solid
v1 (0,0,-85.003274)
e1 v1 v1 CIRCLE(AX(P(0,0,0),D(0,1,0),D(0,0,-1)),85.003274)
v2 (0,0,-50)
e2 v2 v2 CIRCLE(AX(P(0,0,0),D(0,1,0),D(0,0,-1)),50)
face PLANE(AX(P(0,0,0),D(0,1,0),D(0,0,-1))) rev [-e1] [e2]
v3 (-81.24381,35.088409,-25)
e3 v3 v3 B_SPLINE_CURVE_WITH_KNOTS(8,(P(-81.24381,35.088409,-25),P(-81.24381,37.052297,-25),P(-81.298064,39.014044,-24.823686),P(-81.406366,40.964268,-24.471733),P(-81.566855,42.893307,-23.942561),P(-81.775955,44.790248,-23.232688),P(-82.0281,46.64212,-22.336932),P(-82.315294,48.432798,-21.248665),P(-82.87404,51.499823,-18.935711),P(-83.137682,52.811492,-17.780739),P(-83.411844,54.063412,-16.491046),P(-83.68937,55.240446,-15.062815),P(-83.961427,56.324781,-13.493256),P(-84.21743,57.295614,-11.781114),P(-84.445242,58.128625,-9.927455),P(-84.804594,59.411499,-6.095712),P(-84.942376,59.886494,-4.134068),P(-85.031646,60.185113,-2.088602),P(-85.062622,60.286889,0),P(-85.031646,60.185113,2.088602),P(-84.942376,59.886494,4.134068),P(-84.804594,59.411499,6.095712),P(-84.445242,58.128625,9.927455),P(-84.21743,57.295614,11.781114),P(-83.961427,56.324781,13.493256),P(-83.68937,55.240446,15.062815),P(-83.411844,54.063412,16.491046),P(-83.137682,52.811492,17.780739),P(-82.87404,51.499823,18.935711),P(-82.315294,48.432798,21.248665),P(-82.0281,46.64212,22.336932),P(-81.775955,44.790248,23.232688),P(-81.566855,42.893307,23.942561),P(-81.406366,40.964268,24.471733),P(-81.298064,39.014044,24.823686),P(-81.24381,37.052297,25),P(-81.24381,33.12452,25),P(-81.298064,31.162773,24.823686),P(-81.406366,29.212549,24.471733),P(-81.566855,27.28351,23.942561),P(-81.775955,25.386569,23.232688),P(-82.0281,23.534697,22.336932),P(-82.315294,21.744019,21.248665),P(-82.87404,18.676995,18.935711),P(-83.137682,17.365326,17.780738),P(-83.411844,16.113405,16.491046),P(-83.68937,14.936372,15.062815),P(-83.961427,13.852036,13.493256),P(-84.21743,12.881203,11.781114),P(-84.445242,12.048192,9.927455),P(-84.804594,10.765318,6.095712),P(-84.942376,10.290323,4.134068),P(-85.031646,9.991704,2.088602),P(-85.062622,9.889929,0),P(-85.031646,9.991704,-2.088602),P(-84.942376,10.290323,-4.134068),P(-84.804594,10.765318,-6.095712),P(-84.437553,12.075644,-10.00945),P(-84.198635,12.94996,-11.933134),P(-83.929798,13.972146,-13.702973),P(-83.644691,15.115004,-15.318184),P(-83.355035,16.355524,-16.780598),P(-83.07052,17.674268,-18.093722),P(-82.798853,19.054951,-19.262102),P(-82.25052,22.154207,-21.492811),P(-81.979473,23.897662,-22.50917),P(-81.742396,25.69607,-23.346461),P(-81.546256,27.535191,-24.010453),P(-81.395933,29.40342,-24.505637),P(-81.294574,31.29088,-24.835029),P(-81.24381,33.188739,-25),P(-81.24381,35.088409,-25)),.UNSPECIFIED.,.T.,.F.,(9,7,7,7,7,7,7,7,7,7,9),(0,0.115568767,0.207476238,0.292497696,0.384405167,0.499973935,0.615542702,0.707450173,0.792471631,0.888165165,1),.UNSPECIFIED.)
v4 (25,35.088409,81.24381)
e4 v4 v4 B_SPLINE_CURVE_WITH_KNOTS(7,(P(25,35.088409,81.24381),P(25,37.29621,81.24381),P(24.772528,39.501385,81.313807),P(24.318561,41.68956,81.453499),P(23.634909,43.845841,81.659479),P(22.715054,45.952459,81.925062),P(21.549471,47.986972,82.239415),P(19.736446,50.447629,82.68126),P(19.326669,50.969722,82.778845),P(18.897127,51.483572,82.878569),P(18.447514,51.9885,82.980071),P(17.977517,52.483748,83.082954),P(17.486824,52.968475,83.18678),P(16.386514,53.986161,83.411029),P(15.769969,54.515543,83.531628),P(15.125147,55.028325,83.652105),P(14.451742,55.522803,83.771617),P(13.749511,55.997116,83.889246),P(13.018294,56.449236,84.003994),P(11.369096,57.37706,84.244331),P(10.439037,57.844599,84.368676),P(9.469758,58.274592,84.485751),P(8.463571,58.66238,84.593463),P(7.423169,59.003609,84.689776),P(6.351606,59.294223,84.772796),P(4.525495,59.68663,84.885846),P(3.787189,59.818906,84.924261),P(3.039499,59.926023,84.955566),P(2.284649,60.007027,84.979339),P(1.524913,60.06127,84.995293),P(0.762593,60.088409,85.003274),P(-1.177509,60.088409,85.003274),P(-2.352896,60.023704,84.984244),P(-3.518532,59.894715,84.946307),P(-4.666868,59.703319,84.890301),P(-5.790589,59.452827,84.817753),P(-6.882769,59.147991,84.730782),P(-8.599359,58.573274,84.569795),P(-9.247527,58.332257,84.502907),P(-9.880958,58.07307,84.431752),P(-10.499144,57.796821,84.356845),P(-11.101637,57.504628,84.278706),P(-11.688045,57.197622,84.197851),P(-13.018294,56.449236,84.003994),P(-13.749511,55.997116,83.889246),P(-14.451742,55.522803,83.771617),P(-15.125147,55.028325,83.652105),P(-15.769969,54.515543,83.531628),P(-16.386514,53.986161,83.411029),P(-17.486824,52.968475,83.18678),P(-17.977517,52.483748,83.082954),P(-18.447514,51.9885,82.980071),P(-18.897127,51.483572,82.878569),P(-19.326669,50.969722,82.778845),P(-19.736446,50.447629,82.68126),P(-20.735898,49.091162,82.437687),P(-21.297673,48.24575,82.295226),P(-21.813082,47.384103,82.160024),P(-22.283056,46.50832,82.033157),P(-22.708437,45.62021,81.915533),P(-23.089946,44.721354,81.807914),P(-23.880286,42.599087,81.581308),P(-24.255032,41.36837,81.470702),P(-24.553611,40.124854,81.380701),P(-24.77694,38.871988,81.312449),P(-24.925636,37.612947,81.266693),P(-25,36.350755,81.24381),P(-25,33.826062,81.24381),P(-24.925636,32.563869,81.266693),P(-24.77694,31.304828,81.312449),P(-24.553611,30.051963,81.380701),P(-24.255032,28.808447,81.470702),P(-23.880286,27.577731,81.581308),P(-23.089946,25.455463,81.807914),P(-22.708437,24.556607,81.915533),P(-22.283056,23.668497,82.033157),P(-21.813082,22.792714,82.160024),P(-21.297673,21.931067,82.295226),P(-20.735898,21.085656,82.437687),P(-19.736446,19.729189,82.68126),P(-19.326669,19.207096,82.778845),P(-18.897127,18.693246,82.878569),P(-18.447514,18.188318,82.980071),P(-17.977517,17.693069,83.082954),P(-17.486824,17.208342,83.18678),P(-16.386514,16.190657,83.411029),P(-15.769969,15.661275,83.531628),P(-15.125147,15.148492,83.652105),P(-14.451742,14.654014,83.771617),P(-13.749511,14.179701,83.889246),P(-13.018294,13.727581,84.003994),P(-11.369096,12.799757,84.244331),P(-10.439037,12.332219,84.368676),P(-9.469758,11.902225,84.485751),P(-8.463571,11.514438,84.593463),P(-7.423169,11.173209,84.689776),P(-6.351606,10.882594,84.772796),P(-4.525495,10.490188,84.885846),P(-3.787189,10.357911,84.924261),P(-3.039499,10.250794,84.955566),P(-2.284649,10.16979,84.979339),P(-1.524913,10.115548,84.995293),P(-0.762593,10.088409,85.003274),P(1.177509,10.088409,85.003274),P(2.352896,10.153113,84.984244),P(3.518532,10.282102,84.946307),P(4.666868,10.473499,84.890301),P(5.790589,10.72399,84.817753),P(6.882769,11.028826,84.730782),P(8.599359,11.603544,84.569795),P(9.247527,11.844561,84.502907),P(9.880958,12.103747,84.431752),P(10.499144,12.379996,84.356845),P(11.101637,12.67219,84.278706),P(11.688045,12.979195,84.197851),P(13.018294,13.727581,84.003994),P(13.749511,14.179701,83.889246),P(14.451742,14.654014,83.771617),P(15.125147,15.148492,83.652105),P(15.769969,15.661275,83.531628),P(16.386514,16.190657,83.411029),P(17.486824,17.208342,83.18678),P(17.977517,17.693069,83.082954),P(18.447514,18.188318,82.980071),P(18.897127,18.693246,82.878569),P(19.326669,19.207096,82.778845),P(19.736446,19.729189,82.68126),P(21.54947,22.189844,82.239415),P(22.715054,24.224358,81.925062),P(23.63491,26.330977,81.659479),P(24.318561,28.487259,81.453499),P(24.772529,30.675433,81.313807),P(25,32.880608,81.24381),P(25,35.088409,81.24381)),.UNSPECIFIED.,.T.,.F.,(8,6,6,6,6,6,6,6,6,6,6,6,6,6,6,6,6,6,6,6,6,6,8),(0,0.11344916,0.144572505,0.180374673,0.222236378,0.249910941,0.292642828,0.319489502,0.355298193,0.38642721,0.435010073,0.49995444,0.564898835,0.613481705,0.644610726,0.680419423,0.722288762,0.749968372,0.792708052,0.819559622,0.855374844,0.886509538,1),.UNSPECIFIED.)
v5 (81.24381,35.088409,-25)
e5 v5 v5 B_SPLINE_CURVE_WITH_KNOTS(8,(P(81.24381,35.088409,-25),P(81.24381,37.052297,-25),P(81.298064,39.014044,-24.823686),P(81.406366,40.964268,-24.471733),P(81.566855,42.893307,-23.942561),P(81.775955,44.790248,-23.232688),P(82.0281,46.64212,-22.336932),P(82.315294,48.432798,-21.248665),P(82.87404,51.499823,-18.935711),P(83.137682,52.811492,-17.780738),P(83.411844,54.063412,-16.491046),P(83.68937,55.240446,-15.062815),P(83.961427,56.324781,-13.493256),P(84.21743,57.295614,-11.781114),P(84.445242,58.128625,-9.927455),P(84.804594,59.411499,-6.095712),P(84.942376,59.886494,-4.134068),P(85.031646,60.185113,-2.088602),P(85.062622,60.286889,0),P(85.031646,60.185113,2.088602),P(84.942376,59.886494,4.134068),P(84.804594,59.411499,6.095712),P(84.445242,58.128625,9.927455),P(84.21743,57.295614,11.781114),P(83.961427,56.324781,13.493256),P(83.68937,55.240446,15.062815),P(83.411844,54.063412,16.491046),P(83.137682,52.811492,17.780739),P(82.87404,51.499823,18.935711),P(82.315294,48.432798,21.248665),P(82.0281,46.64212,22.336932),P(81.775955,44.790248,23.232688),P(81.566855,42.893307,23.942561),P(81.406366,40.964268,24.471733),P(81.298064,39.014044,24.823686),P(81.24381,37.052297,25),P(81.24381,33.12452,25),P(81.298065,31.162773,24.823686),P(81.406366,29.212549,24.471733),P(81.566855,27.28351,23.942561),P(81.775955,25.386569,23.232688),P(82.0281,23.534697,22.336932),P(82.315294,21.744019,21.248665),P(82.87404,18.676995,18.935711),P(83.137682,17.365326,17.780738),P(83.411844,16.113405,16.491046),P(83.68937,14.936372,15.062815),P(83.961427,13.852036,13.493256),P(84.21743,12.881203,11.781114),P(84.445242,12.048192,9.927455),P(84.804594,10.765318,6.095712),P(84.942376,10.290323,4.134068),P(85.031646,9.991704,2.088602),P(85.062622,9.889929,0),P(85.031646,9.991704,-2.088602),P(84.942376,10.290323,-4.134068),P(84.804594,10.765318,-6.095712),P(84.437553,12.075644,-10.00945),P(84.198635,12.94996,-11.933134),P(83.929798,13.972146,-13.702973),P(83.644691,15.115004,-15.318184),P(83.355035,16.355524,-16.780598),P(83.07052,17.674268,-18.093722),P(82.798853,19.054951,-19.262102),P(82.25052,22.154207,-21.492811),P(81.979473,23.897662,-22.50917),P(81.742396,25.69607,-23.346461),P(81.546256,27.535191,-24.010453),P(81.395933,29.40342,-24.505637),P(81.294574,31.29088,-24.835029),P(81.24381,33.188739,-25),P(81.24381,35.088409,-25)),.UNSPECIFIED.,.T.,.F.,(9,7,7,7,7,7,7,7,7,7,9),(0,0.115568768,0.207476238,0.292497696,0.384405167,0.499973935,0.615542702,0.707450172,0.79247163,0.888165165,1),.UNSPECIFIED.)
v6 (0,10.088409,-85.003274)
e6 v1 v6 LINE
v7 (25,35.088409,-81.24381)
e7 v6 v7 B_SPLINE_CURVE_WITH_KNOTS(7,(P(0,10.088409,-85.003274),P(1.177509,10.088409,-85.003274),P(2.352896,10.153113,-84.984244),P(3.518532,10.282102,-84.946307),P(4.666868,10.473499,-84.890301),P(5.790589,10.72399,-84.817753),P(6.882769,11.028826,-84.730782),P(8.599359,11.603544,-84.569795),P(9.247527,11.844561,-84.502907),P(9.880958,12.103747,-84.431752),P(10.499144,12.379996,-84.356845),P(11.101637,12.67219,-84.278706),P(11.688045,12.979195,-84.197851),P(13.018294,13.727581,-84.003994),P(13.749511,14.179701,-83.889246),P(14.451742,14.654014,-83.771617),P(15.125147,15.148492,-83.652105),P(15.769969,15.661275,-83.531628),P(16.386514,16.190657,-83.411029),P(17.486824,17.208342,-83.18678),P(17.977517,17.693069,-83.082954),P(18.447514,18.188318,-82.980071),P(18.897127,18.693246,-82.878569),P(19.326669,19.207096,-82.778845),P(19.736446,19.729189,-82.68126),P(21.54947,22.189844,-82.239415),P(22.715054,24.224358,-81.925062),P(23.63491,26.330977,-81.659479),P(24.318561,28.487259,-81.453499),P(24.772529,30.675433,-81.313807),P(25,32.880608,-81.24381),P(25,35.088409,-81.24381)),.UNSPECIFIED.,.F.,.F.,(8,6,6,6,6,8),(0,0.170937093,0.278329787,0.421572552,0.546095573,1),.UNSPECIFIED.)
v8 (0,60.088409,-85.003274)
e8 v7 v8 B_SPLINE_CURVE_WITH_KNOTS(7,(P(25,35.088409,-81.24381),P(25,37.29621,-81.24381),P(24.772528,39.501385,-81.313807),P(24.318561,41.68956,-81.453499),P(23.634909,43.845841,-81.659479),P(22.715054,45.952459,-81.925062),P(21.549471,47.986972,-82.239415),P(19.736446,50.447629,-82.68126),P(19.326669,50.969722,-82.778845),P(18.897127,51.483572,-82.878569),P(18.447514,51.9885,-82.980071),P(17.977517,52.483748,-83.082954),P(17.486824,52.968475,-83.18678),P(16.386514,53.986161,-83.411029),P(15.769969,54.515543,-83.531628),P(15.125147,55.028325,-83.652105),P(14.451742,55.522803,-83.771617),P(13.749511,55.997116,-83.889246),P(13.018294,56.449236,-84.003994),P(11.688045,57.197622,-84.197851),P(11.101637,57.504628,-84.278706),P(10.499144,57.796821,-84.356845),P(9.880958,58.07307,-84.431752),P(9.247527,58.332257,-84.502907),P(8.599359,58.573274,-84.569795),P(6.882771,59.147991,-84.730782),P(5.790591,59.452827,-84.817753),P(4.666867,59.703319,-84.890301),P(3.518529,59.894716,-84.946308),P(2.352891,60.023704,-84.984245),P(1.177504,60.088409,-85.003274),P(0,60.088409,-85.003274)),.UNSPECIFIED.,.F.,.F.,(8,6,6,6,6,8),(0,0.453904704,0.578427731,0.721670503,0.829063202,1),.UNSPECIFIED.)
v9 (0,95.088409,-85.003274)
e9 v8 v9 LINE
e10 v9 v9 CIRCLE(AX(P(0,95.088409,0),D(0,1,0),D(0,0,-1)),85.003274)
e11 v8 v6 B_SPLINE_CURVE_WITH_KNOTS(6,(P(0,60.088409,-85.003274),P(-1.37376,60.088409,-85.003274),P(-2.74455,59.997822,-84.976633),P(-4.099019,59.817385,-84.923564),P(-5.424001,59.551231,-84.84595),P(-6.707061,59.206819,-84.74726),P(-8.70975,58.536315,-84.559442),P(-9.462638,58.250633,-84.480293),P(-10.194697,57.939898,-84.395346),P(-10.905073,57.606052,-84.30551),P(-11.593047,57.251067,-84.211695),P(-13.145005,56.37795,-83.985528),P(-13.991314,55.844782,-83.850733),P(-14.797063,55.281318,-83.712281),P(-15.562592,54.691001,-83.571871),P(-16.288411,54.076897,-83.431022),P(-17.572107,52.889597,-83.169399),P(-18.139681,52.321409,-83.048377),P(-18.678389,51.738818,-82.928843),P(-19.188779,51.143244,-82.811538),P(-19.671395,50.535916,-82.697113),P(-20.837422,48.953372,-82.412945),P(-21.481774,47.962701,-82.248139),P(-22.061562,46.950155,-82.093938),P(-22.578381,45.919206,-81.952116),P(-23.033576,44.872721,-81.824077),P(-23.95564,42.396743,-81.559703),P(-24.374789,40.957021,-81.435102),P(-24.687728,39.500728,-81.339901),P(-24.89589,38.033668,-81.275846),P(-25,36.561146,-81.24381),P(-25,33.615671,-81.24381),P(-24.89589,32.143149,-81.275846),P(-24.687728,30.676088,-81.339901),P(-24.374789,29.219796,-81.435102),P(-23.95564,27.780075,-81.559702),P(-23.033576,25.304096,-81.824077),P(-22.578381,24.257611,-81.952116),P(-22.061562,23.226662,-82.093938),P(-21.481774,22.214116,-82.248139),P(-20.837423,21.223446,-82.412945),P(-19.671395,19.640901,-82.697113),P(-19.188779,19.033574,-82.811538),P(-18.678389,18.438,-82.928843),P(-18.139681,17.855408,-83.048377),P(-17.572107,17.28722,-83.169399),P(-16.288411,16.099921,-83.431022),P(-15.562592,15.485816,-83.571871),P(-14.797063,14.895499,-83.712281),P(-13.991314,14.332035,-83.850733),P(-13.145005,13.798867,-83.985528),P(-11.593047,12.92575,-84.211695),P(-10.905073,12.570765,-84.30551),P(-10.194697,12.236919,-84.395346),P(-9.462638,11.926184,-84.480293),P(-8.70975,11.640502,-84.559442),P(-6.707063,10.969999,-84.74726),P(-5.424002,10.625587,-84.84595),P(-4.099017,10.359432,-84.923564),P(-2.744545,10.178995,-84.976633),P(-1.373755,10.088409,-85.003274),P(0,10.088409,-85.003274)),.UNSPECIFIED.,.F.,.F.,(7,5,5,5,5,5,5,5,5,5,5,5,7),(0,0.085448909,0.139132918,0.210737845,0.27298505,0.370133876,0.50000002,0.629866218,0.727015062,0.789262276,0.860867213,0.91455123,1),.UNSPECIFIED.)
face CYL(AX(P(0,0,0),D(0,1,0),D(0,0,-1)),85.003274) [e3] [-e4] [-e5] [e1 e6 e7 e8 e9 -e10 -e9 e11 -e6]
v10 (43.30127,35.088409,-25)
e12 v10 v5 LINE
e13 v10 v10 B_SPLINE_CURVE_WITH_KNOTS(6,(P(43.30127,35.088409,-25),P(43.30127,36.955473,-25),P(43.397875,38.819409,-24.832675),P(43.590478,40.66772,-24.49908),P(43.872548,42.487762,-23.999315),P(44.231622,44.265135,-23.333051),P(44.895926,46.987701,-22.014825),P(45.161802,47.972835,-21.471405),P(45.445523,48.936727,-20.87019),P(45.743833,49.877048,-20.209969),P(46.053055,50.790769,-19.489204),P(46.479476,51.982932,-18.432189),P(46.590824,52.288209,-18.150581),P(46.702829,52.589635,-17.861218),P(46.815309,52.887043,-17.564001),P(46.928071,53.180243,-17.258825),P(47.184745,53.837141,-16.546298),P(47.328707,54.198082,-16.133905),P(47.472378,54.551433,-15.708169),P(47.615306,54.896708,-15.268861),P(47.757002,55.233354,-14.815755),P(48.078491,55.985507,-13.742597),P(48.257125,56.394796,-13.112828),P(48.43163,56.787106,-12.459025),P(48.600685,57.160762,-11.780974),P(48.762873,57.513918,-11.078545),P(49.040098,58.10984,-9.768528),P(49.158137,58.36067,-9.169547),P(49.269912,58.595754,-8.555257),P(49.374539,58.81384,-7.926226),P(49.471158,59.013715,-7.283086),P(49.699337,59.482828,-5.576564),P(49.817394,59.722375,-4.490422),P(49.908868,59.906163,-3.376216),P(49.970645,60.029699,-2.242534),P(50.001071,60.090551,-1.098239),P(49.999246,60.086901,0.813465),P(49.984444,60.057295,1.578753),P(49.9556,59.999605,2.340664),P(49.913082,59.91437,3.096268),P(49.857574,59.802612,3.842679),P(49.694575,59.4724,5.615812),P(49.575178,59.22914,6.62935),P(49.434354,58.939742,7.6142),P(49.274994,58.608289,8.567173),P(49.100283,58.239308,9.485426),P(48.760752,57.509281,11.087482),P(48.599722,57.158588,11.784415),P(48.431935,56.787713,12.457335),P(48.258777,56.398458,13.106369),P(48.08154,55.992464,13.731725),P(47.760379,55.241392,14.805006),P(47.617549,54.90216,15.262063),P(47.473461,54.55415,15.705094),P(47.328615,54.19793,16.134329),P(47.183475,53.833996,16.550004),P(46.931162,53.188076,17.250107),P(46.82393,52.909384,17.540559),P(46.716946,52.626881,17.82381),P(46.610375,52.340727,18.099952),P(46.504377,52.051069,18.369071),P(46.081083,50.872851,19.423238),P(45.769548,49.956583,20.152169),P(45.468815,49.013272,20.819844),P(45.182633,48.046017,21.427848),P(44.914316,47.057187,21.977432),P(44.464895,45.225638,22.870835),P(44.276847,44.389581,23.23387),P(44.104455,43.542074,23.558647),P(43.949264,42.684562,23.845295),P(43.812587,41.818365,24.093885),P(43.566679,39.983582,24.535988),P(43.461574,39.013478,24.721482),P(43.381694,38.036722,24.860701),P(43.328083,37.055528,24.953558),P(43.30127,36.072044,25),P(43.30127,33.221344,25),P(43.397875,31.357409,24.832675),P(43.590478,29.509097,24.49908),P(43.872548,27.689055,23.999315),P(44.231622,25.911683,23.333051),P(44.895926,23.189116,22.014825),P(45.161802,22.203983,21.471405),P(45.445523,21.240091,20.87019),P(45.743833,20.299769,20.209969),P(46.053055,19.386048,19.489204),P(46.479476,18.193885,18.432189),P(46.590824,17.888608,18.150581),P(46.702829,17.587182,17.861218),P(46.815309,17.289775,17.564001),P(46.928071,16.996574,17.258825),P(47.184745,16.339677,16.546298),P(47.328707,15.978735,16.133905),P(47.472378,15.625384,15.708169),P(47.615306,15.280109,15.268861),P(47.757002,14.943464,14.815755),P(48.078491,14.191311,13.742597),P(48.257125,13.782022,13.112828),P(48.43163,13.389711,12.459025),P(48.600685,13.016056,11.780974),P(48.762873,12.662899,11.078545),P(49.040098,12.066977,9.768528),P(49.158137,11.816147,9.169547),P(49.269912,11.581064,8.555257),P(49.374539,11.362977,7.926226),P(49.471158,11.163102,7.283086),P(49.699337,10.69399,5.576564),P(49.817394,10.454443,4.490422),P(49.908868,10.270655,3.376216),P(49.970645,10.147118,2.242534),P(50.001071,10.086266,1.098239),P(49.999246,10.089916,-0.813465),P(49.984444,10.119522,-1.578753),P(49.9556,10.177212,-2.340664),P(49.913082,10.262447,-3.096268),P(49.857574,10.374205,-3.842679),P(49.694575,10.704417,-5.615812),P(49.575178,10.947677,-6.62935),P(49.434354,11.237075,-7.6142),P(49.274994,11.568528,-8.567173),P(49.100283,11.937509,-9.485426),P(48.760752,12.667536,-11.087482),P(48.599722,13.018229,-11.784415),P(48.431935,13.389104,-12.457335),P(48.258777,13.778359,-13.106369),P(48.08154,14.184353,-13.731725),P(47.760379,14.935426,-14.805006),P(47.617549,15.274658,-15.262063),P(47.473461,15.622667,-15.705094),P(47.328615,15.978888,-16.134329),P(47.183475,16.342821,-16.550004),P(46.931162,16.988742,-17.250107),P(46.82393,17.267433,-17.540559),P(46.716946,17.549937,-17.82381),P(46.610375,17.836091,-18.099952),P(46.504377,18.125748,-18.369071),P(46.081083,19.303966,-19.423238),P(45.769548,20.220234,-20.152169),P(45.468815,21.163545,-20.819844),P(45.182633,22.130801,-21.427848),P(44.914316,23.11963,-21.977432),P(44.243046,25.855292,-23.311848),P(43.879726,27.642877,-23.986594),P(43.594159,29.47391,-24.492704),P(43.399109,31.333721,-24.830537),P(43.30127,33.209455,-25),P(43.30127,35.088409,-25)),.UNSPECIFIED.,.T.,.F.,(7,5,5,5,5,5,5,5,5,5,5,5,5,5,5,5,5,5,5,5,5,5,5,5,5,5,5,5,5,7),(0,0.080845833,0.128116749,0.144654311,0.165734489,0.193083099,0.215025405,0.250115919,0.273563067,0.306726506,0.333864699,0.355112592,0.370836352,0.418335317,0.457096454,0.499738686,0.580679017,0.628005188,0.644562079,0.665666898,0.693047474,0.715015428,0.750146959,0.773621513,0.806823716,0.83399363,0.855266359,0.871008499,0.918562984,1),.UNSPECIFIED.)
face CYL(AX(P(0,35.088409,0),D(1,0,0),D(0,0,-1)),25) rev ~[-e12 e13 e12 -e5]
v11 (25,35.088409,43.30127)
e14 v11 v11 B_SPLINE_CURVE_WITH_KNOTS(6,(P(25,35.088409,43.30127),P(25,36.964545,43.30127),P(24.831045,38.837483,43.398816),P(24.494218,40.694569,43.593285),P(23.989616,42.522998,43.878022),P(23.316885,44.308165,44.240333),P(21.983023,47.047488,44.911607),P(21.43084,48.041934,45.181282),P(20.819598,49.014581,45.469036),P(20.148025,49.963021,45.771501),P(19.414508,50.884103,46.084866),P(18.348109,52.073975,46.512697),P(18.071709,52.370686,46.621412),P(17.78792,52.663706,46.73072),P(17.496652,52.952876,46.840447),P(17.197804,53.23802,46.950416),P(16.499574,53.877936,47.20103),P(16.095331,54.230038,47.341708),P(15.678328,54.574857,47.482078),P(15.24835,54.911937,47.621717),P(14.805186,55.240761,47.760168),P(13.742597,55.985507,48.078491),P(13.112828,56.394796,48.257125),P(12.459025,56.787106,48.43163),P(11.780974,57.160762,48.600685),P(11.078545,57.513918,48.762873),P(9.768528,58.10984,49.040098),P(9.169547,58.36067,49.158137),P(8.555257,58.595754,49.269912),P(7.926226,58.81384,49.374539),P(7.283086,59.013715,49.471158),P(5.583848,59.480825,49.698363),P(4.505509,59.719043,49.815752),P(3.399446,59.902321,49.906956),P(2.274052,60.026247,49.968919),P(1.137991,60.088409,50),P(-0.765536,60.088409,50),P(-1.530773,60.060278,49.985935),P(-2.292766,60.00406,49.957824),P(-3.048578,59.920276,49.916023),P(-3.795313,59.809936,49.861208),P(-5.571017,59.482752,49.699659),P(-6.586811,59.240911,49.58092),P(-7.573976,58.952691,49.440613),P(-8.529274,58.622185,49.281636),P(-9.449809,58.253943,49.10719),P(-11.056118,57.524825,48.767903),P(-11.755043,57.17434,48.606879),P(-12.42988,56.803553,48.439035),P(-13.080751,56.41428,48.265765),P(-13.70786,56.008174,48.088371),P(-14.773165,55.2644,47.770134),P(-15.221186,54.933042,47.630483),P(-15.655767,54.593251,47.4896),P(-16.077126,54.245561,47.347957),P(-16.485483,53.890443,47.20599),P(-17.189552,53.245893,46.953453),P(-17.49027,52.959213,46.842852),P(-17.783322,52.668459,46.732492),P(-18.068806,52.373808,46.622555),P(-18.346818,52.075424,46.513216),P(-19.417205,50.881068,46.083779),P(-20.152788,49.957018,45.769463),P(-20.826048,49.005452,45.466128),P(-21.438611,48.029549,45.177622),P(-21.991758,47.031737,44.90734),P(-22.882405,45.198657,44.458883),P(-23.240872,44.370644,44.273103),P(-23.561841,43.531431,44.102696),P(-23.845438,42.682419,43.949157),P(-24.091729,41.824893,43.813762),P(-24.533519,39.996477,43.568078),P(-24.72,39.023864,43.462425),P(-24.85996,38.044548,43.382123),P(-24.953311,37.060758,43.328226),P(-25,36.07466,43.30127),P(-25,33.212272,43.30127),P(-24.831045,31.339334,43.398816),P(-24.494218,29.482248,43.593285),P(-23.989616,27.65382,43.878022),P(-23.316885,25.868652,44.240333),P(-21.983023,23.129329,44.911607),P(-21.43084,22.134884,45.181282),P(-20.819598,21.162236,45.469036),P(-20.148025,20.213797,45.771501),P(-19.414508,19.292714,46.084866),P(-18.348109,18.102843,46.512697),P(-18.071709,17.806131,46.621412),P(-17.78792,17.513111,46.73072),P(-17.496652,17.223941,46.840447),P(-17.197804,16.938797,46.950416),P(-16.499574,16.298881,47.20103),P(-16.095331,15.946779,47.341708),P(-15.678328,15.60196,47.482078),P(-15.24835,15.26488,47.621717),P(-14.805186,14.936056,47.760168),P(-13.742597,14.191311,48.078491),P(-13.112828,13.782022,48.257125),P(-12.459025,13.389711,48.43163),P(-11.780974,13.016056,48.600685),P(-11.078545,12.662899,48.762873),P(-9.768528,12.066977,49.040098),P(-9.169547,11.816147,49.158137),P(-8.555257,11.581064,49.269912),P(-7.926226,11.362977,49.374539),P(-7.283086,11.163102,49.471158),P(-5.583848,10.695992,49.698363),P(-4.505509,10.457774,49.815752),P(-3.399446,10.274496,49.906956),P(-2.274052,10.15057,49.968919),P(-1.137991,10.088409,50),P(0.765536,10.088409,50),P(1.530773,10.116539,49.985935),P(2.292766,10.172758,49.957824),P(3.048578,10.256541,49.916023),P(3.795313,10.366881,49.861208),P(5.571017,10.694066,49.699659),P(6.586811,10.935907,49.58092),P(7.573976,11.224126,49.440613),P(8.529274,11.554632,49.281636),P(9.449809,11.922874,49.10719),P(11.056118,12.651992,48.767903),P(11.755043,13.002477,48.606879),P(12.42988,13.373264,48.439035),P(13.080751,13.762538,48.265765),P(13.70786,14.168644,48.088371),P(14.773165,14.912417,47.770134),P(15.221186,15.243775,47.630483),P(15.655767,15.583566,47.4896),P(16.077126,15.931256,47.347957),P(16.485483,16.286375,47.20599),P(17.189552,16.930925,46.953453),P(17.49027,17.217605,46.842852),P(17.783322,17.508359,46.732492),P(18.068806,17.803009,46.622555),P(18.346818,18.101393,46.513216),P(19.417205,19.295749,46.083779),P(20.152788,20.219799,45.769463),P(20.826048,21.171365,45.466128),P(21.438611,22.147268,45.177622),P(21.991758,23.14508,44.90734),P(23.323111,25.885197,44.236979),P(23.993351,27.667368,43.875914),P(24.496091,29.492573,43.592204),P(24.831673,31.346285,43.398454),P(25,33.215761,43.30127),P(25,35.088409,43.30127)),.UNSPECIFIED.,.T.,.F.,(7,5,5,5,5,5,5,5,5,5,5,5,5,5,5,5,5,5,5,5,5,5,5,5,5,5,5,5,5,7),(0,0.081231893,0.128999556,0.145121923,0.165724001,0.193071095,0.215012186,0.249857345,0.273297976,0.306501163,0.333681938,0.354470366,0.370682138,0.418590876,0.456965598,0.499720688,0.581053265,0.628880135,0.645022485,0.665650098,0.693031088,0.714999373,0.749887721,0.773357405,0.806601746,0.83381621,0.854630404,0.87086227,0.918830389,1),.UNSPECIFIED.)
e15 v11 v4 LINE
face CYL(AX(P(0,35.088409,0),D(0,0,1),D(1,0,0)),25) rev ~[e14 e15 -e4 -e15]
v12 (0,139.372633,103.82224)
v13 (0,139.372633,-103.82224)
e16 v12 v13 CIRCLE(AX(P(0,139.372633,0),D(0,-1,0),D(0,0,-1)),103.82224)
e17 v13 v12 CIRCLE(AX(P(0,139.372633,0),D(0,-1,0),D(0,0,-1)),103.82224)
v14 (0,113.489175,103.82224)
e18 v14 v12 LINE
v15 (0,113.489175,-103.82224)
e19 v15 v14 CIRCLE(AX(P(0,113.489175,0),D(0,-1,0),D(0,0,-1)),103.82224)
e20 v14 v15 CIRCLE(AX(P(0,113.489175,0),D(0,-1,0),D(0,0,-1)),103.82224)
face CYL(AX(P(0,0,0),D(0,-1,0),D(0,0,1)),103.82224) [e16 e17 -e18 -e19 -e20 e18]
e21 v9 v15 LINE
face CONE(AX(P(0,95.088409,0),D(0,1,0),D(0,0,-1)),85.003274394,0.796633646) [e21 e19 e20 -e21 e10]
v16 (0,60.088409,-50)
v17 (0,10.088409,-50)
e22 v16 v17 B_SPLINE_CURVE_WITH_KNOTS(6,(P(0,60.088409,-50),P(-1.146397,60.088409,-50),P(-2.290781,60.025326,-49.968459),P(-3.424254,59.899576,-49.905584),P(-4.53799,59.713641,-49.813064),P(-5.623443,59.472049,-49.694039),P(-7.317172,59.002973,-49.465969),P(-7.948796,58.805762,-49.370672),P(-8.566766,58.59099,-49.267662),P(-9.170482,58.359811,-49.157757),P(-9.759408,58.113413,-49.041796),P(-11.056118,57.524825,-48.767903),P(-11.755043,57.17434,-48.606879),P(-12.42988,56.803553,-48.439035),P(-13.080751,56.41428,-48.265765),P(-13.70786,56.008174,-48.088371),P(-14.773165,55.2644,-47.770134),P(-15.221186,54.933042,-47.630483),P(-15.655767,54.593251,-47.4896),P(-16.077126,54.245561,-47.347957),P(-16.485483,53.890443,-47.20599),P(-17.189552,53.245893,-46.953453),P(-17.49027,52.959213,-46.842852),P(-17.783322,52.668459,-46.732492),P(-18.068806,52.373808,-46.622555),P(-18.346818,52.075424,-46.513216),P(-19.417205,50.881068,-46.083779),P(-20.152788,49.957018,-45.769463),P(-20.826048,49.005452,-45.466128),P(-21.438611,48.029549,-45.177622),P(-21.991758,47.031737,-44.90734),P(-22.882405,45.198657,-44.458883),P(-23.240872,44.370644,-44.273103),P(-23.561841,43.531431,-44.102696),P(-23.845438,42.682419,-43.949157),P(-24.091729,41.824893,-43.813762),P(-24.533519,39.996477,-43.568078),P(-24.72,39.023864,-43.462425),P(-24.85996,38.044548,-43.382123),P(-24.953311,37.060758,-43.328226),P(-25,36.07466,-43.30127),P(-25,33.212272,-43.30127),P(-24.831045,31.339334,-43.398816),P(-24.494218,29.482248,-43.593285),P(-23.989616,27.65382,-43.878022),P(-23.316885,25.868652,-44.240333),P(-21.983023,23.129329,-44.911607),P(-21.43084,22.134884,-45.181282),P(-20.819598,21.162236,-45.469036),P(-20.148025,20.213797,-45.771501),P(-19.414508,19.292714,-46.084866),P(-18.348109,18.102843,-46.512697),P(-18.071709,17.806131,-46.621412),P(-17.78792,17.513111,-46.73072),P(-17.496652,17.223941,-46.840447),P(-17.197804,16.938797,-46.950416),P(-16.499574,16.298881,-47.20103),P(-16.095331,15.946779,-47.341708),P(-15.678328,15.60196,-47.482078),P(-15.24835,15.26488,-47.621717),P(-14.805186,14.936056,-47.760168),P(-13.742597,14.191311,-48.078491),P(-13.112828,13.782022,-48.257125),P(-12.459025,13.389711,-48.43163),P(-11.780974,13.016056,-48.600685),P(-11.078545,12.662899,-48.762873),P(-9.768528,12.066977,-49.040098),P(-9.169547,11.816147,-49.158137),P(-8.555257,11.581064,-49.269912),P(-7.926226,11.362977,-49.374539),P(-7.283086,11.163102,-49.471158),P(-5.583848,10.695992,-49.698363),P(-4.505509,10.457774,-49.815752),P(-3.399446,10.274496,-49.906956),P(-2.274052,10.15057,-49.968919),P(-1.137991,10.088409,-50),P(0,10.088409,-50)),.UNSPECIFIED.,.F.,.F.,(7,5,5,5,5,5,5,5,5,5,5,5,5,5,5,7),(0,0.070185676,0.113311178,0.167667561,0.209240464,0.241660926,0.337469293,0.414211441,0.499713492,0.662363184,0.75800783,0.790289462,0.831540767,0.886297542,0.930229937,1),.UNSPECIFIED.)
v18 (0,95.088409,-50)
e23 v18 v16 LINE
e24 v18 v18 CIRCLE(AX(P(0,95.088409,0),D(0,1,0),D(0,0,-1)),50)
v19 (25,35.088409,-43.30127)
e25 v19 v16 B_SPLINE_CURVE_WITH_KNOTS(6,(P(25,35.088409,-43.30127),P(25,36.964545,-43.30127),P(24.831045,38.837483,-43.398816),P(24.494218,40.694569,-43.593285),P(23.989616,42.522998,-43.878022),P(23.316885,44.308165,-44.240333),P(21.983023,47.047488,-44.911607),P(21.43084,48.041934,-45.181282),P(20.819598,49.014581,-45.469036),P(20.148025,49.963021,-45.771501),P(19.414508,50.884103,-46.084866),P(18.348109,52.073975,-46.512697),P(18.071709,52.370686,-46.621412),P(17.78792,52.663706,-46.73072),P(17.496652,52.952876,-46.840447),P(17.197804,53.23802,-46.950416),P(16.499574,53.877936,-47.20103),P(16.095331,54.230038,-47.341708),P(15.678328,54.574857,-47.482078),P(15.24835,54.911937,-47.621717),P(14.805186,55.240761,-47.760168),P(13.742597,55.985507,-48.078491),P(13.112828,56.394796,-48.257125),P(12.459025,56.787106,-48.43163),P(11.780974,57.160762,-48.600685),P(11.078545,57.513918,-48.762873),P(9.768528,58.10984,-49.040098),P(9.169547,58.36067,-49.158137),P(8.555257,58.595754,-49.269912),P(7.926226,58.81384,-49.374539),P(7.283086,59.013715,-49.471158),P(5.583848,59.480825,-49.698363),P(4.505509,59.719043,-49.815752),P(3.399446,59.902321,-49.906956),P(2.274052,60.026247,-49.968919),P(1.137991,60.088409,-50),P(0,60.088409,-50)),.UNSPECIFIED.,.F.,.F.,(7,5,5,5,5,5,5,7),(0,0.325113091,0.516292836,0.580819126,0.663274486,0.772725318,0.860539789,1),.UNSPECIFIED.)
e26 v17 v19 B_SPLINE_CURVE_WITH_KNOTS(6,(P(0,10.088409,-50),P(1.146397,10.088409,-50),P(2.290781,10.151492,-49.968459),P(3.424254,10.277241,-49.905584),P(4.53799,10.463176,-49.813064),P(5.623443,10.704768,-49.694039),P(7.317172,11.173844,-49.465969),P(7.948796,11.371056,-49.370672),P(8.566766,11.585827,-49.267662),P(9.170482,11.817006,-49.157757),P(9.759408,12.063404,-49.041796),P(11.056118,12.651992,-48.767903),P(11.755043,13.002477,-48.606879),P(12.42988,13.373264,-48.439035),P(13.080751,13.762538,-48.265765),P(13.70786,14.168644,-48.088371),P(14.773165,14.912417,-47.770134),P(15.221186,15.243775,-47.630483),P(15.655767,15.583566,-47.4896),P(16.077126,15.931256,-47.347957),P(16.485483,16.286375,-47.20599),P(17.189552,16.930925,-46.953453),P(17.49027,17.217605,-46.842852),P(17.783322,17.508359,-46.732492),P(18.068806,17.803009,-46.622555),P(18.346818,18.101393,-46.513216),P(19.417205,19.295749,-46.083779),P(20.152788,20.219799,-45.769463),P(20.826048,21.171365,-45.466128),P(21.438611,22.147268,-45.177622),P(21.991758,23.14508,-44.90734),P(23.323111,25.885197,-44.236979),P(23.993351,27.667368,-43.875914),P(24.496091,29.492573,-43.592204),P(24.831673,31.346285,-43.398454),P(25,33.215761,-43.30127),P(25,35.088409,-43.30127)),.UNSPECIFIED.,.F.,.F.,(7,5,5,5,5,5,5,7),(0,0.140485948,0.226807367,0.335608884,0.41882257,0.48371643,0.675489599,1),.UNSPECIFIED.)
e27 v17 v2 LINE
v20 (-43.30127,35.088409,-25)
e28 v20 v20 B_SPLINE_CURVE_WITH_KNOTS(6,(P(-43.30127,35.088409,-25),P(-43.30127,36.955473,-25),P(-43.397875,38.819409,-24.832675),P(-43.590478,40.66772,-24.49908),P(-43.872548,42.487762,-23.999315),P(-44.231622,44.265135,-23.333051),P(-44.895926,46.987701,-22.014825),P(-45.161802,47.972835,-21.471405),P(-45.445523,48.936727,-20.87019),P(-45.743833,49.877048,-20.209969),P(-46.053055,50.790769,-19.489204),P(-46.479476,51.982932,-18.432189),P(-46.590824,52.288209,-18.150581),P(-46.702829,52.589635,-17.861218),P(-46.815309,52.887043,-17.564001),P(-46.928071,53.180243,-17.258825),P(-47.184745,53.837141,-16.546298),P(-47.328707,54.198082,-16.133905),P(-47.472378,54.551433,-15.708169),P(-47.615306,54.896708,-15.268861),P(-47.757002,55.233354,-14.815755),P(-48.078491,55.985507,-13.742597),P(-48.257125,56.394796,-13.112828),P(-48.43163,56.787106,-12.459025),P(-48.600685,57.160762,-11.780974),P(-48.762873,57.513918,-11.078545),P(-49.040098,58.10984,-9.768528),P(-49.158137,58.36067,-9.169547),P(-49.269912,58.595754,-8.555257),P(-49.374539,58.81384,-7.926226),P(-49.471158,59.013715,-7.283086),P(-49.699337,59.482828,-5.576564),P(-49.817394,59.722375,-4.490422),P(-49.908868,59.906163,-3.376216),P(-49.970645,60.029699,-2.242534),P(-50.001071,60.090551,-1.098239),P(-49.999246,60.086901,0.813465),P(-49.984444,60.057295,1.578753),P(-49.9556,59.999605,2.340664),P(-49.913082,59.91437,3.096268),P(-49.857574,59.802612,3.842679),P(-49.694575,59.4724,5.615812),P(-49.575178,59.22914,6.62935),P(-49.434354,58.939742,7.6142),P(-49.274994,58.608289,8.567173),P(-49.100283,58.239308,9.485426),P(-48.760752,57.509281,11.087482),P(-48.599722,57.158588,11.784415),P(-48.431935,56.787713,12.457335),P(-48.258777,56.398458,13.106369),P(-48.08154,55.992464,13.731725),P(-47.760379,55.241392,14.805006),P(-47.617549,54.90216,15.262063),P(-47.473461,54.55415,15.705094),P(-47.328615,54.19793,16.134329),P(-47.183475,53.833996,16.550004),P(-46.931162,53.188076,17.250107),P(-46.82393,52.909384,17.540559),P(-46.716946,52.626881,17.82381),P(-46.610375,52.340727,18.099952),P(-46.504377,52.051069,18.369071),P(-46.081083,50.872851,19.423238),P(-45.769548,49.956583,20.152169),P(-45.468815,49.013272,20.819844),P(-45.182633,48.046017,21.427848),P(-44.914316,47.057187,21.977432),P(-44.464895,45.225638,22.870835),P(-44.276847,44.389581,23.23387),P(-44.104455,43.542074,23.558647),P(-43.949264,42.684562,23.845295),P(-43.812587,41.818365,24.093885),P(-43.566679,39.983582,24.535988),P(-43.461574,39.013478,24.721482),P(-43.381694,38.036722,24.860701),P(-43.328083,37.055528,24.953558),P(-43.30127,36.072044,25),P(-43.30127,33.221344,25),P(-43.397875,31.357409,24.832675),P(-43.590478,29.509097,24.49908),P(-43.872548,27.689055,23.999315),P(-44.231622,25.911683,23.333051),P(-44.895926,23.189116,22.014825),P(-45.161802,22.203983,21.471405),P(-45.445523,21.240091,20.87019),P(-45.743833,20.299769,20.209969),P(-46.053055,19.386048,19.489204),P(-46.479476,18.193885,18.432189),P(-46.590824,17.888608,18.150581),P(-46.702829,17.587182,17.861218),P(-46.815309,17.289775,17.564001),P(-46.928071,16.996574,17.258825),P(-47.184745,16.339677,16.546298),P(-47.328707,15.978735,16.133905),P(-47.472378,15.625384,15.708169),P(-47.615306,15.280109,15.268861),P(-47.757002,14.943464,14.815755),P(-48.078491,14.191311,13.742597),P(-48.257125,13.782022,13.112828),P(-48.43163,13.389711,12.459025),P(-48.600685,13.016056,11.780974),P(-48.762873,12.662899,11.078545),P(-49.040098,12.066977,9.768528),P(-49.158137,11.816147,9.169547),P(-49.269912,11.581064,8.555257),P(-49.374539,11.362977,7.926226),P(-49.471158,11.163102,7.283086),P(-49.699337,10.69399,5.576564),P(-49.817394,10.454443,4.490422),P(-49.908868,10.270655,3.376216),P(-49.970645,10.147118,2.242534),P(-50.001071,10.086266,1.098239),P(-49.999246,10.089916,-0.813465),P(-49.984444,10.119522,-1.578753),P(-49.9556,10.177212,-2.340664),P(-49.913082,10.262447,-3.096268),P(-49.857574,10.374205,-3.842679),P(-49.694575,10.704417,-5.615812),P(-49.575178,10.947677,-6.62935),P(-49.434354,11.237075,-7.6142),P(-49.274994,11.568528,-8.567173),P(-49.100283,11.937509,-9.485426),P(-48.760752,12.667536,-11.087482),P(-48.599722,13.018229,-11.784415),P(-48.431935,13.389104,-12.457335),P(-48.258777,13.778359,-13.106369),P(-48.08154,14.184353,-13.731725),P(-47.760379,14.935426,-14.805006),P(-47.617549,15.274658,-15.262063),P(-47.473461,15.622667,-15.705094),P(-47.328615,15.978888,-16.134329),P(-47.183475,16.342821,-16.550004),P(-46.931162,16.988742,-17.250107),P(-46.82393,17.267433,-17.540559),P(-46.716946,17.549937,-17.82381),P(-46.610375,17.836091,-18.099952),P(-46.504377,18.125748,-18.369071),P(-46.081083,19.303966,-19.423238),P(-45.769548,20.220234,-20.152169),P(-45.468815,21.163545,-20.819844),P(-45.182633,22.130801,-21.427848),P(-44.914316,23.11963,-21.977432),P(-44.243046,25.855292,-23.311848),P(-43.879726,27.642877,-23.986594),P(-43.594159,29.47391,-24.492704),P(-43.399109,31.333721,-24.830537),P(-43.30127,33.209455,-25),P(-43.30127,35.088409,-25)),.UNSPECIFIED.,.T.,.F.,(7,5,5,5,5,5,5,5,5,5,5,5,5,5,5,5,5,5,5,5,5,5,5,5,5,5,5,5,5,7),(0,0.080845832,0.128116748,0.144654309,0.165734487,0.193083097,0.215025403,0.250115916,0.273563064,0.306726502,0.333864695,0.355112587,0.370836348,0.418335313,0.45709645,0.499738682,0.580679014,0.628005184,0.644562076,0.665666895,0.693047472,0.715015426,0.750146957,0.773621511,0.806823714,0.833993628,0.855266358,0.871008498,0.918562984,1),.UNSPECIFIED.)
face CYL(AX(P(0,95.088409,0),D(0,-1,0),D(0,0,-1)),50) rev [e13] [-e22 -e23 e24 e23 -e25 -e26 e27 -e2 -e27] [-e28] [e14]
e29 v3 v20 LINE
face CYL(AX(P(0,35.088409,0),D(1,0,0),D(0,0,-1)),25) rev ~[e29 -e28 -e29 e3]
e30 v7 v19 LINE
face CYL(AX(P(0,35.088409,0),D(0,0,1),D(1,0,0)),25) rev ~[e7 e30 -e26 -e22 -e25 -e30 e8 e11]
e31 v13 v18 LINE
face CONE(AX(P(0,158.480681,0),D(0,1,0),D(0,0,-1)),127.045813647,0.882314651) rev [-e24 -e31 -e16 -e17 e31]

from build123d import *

# Parameters (mm, degrees)
SKETCH9_R          = 25
CUT_EXTRUDE1_DEPTH = 100
SKETCH10_R         = 25
CUT_EXTRUDE2_DEPTH = 100
SKETCH11_R         = 149.836280288
SKETCH11_R_2       = 103.82223994
CUT_EXTRUDE3_DEPTH = 265.609047568


with BuildPart() as part:
    # Sketch5 → Revolve3 (revolve)
    with BuildSketch(Plane.XY):
        Polygon((-85.003274394, 95.088408644), (-85.003274394, 0), (-50, 0), (-50, 95.088408644), (-127.045813647, 158.480681074), (-149.836280288, 158.480681074), align=None)
    revolve(axis=Axis((0, -87.884741323, 0), (0, 1, 0)))

    # Sketch9 → Cut-Extrude1 (cut, symmetric)
    with BuildSketch(Plane.XY):
        with Locations((0, 35.088408644)):
            Circle(SKETCH9_R)
    extrude(amount=CUT_EXTRUDE1_DEPTH, both=True, mode=Mode.SUBTRACT)

    # Sketch10 → Cut-Extrude2 (cut, symmetric)
    with BuildSketch(Plane(origin=(0, 0, 0), x_dir=(0, 0, -1), z_dir=(1, 0, 0))):
        with Locations((0, 35.088408644)):
            Circle(SKETCH10_R)
    extrude(amount=CUT_EXTRUDE2_DEPTH, both=True, mode=Mode.SUBTRACT)

    # Sketch11 → Cut-Extrude3 (cut, through all)
    with BuildSketch(Plane.XZ):
        Circle(SKETCH11_R)
        Circle(SKETCH11_R_2, mode=Mode.SUBTRACT)
    extrude(amount=-CUT_EXTRUDE3_DEPTH, mode=Mode.SUBTRACT)


solid = part.part
